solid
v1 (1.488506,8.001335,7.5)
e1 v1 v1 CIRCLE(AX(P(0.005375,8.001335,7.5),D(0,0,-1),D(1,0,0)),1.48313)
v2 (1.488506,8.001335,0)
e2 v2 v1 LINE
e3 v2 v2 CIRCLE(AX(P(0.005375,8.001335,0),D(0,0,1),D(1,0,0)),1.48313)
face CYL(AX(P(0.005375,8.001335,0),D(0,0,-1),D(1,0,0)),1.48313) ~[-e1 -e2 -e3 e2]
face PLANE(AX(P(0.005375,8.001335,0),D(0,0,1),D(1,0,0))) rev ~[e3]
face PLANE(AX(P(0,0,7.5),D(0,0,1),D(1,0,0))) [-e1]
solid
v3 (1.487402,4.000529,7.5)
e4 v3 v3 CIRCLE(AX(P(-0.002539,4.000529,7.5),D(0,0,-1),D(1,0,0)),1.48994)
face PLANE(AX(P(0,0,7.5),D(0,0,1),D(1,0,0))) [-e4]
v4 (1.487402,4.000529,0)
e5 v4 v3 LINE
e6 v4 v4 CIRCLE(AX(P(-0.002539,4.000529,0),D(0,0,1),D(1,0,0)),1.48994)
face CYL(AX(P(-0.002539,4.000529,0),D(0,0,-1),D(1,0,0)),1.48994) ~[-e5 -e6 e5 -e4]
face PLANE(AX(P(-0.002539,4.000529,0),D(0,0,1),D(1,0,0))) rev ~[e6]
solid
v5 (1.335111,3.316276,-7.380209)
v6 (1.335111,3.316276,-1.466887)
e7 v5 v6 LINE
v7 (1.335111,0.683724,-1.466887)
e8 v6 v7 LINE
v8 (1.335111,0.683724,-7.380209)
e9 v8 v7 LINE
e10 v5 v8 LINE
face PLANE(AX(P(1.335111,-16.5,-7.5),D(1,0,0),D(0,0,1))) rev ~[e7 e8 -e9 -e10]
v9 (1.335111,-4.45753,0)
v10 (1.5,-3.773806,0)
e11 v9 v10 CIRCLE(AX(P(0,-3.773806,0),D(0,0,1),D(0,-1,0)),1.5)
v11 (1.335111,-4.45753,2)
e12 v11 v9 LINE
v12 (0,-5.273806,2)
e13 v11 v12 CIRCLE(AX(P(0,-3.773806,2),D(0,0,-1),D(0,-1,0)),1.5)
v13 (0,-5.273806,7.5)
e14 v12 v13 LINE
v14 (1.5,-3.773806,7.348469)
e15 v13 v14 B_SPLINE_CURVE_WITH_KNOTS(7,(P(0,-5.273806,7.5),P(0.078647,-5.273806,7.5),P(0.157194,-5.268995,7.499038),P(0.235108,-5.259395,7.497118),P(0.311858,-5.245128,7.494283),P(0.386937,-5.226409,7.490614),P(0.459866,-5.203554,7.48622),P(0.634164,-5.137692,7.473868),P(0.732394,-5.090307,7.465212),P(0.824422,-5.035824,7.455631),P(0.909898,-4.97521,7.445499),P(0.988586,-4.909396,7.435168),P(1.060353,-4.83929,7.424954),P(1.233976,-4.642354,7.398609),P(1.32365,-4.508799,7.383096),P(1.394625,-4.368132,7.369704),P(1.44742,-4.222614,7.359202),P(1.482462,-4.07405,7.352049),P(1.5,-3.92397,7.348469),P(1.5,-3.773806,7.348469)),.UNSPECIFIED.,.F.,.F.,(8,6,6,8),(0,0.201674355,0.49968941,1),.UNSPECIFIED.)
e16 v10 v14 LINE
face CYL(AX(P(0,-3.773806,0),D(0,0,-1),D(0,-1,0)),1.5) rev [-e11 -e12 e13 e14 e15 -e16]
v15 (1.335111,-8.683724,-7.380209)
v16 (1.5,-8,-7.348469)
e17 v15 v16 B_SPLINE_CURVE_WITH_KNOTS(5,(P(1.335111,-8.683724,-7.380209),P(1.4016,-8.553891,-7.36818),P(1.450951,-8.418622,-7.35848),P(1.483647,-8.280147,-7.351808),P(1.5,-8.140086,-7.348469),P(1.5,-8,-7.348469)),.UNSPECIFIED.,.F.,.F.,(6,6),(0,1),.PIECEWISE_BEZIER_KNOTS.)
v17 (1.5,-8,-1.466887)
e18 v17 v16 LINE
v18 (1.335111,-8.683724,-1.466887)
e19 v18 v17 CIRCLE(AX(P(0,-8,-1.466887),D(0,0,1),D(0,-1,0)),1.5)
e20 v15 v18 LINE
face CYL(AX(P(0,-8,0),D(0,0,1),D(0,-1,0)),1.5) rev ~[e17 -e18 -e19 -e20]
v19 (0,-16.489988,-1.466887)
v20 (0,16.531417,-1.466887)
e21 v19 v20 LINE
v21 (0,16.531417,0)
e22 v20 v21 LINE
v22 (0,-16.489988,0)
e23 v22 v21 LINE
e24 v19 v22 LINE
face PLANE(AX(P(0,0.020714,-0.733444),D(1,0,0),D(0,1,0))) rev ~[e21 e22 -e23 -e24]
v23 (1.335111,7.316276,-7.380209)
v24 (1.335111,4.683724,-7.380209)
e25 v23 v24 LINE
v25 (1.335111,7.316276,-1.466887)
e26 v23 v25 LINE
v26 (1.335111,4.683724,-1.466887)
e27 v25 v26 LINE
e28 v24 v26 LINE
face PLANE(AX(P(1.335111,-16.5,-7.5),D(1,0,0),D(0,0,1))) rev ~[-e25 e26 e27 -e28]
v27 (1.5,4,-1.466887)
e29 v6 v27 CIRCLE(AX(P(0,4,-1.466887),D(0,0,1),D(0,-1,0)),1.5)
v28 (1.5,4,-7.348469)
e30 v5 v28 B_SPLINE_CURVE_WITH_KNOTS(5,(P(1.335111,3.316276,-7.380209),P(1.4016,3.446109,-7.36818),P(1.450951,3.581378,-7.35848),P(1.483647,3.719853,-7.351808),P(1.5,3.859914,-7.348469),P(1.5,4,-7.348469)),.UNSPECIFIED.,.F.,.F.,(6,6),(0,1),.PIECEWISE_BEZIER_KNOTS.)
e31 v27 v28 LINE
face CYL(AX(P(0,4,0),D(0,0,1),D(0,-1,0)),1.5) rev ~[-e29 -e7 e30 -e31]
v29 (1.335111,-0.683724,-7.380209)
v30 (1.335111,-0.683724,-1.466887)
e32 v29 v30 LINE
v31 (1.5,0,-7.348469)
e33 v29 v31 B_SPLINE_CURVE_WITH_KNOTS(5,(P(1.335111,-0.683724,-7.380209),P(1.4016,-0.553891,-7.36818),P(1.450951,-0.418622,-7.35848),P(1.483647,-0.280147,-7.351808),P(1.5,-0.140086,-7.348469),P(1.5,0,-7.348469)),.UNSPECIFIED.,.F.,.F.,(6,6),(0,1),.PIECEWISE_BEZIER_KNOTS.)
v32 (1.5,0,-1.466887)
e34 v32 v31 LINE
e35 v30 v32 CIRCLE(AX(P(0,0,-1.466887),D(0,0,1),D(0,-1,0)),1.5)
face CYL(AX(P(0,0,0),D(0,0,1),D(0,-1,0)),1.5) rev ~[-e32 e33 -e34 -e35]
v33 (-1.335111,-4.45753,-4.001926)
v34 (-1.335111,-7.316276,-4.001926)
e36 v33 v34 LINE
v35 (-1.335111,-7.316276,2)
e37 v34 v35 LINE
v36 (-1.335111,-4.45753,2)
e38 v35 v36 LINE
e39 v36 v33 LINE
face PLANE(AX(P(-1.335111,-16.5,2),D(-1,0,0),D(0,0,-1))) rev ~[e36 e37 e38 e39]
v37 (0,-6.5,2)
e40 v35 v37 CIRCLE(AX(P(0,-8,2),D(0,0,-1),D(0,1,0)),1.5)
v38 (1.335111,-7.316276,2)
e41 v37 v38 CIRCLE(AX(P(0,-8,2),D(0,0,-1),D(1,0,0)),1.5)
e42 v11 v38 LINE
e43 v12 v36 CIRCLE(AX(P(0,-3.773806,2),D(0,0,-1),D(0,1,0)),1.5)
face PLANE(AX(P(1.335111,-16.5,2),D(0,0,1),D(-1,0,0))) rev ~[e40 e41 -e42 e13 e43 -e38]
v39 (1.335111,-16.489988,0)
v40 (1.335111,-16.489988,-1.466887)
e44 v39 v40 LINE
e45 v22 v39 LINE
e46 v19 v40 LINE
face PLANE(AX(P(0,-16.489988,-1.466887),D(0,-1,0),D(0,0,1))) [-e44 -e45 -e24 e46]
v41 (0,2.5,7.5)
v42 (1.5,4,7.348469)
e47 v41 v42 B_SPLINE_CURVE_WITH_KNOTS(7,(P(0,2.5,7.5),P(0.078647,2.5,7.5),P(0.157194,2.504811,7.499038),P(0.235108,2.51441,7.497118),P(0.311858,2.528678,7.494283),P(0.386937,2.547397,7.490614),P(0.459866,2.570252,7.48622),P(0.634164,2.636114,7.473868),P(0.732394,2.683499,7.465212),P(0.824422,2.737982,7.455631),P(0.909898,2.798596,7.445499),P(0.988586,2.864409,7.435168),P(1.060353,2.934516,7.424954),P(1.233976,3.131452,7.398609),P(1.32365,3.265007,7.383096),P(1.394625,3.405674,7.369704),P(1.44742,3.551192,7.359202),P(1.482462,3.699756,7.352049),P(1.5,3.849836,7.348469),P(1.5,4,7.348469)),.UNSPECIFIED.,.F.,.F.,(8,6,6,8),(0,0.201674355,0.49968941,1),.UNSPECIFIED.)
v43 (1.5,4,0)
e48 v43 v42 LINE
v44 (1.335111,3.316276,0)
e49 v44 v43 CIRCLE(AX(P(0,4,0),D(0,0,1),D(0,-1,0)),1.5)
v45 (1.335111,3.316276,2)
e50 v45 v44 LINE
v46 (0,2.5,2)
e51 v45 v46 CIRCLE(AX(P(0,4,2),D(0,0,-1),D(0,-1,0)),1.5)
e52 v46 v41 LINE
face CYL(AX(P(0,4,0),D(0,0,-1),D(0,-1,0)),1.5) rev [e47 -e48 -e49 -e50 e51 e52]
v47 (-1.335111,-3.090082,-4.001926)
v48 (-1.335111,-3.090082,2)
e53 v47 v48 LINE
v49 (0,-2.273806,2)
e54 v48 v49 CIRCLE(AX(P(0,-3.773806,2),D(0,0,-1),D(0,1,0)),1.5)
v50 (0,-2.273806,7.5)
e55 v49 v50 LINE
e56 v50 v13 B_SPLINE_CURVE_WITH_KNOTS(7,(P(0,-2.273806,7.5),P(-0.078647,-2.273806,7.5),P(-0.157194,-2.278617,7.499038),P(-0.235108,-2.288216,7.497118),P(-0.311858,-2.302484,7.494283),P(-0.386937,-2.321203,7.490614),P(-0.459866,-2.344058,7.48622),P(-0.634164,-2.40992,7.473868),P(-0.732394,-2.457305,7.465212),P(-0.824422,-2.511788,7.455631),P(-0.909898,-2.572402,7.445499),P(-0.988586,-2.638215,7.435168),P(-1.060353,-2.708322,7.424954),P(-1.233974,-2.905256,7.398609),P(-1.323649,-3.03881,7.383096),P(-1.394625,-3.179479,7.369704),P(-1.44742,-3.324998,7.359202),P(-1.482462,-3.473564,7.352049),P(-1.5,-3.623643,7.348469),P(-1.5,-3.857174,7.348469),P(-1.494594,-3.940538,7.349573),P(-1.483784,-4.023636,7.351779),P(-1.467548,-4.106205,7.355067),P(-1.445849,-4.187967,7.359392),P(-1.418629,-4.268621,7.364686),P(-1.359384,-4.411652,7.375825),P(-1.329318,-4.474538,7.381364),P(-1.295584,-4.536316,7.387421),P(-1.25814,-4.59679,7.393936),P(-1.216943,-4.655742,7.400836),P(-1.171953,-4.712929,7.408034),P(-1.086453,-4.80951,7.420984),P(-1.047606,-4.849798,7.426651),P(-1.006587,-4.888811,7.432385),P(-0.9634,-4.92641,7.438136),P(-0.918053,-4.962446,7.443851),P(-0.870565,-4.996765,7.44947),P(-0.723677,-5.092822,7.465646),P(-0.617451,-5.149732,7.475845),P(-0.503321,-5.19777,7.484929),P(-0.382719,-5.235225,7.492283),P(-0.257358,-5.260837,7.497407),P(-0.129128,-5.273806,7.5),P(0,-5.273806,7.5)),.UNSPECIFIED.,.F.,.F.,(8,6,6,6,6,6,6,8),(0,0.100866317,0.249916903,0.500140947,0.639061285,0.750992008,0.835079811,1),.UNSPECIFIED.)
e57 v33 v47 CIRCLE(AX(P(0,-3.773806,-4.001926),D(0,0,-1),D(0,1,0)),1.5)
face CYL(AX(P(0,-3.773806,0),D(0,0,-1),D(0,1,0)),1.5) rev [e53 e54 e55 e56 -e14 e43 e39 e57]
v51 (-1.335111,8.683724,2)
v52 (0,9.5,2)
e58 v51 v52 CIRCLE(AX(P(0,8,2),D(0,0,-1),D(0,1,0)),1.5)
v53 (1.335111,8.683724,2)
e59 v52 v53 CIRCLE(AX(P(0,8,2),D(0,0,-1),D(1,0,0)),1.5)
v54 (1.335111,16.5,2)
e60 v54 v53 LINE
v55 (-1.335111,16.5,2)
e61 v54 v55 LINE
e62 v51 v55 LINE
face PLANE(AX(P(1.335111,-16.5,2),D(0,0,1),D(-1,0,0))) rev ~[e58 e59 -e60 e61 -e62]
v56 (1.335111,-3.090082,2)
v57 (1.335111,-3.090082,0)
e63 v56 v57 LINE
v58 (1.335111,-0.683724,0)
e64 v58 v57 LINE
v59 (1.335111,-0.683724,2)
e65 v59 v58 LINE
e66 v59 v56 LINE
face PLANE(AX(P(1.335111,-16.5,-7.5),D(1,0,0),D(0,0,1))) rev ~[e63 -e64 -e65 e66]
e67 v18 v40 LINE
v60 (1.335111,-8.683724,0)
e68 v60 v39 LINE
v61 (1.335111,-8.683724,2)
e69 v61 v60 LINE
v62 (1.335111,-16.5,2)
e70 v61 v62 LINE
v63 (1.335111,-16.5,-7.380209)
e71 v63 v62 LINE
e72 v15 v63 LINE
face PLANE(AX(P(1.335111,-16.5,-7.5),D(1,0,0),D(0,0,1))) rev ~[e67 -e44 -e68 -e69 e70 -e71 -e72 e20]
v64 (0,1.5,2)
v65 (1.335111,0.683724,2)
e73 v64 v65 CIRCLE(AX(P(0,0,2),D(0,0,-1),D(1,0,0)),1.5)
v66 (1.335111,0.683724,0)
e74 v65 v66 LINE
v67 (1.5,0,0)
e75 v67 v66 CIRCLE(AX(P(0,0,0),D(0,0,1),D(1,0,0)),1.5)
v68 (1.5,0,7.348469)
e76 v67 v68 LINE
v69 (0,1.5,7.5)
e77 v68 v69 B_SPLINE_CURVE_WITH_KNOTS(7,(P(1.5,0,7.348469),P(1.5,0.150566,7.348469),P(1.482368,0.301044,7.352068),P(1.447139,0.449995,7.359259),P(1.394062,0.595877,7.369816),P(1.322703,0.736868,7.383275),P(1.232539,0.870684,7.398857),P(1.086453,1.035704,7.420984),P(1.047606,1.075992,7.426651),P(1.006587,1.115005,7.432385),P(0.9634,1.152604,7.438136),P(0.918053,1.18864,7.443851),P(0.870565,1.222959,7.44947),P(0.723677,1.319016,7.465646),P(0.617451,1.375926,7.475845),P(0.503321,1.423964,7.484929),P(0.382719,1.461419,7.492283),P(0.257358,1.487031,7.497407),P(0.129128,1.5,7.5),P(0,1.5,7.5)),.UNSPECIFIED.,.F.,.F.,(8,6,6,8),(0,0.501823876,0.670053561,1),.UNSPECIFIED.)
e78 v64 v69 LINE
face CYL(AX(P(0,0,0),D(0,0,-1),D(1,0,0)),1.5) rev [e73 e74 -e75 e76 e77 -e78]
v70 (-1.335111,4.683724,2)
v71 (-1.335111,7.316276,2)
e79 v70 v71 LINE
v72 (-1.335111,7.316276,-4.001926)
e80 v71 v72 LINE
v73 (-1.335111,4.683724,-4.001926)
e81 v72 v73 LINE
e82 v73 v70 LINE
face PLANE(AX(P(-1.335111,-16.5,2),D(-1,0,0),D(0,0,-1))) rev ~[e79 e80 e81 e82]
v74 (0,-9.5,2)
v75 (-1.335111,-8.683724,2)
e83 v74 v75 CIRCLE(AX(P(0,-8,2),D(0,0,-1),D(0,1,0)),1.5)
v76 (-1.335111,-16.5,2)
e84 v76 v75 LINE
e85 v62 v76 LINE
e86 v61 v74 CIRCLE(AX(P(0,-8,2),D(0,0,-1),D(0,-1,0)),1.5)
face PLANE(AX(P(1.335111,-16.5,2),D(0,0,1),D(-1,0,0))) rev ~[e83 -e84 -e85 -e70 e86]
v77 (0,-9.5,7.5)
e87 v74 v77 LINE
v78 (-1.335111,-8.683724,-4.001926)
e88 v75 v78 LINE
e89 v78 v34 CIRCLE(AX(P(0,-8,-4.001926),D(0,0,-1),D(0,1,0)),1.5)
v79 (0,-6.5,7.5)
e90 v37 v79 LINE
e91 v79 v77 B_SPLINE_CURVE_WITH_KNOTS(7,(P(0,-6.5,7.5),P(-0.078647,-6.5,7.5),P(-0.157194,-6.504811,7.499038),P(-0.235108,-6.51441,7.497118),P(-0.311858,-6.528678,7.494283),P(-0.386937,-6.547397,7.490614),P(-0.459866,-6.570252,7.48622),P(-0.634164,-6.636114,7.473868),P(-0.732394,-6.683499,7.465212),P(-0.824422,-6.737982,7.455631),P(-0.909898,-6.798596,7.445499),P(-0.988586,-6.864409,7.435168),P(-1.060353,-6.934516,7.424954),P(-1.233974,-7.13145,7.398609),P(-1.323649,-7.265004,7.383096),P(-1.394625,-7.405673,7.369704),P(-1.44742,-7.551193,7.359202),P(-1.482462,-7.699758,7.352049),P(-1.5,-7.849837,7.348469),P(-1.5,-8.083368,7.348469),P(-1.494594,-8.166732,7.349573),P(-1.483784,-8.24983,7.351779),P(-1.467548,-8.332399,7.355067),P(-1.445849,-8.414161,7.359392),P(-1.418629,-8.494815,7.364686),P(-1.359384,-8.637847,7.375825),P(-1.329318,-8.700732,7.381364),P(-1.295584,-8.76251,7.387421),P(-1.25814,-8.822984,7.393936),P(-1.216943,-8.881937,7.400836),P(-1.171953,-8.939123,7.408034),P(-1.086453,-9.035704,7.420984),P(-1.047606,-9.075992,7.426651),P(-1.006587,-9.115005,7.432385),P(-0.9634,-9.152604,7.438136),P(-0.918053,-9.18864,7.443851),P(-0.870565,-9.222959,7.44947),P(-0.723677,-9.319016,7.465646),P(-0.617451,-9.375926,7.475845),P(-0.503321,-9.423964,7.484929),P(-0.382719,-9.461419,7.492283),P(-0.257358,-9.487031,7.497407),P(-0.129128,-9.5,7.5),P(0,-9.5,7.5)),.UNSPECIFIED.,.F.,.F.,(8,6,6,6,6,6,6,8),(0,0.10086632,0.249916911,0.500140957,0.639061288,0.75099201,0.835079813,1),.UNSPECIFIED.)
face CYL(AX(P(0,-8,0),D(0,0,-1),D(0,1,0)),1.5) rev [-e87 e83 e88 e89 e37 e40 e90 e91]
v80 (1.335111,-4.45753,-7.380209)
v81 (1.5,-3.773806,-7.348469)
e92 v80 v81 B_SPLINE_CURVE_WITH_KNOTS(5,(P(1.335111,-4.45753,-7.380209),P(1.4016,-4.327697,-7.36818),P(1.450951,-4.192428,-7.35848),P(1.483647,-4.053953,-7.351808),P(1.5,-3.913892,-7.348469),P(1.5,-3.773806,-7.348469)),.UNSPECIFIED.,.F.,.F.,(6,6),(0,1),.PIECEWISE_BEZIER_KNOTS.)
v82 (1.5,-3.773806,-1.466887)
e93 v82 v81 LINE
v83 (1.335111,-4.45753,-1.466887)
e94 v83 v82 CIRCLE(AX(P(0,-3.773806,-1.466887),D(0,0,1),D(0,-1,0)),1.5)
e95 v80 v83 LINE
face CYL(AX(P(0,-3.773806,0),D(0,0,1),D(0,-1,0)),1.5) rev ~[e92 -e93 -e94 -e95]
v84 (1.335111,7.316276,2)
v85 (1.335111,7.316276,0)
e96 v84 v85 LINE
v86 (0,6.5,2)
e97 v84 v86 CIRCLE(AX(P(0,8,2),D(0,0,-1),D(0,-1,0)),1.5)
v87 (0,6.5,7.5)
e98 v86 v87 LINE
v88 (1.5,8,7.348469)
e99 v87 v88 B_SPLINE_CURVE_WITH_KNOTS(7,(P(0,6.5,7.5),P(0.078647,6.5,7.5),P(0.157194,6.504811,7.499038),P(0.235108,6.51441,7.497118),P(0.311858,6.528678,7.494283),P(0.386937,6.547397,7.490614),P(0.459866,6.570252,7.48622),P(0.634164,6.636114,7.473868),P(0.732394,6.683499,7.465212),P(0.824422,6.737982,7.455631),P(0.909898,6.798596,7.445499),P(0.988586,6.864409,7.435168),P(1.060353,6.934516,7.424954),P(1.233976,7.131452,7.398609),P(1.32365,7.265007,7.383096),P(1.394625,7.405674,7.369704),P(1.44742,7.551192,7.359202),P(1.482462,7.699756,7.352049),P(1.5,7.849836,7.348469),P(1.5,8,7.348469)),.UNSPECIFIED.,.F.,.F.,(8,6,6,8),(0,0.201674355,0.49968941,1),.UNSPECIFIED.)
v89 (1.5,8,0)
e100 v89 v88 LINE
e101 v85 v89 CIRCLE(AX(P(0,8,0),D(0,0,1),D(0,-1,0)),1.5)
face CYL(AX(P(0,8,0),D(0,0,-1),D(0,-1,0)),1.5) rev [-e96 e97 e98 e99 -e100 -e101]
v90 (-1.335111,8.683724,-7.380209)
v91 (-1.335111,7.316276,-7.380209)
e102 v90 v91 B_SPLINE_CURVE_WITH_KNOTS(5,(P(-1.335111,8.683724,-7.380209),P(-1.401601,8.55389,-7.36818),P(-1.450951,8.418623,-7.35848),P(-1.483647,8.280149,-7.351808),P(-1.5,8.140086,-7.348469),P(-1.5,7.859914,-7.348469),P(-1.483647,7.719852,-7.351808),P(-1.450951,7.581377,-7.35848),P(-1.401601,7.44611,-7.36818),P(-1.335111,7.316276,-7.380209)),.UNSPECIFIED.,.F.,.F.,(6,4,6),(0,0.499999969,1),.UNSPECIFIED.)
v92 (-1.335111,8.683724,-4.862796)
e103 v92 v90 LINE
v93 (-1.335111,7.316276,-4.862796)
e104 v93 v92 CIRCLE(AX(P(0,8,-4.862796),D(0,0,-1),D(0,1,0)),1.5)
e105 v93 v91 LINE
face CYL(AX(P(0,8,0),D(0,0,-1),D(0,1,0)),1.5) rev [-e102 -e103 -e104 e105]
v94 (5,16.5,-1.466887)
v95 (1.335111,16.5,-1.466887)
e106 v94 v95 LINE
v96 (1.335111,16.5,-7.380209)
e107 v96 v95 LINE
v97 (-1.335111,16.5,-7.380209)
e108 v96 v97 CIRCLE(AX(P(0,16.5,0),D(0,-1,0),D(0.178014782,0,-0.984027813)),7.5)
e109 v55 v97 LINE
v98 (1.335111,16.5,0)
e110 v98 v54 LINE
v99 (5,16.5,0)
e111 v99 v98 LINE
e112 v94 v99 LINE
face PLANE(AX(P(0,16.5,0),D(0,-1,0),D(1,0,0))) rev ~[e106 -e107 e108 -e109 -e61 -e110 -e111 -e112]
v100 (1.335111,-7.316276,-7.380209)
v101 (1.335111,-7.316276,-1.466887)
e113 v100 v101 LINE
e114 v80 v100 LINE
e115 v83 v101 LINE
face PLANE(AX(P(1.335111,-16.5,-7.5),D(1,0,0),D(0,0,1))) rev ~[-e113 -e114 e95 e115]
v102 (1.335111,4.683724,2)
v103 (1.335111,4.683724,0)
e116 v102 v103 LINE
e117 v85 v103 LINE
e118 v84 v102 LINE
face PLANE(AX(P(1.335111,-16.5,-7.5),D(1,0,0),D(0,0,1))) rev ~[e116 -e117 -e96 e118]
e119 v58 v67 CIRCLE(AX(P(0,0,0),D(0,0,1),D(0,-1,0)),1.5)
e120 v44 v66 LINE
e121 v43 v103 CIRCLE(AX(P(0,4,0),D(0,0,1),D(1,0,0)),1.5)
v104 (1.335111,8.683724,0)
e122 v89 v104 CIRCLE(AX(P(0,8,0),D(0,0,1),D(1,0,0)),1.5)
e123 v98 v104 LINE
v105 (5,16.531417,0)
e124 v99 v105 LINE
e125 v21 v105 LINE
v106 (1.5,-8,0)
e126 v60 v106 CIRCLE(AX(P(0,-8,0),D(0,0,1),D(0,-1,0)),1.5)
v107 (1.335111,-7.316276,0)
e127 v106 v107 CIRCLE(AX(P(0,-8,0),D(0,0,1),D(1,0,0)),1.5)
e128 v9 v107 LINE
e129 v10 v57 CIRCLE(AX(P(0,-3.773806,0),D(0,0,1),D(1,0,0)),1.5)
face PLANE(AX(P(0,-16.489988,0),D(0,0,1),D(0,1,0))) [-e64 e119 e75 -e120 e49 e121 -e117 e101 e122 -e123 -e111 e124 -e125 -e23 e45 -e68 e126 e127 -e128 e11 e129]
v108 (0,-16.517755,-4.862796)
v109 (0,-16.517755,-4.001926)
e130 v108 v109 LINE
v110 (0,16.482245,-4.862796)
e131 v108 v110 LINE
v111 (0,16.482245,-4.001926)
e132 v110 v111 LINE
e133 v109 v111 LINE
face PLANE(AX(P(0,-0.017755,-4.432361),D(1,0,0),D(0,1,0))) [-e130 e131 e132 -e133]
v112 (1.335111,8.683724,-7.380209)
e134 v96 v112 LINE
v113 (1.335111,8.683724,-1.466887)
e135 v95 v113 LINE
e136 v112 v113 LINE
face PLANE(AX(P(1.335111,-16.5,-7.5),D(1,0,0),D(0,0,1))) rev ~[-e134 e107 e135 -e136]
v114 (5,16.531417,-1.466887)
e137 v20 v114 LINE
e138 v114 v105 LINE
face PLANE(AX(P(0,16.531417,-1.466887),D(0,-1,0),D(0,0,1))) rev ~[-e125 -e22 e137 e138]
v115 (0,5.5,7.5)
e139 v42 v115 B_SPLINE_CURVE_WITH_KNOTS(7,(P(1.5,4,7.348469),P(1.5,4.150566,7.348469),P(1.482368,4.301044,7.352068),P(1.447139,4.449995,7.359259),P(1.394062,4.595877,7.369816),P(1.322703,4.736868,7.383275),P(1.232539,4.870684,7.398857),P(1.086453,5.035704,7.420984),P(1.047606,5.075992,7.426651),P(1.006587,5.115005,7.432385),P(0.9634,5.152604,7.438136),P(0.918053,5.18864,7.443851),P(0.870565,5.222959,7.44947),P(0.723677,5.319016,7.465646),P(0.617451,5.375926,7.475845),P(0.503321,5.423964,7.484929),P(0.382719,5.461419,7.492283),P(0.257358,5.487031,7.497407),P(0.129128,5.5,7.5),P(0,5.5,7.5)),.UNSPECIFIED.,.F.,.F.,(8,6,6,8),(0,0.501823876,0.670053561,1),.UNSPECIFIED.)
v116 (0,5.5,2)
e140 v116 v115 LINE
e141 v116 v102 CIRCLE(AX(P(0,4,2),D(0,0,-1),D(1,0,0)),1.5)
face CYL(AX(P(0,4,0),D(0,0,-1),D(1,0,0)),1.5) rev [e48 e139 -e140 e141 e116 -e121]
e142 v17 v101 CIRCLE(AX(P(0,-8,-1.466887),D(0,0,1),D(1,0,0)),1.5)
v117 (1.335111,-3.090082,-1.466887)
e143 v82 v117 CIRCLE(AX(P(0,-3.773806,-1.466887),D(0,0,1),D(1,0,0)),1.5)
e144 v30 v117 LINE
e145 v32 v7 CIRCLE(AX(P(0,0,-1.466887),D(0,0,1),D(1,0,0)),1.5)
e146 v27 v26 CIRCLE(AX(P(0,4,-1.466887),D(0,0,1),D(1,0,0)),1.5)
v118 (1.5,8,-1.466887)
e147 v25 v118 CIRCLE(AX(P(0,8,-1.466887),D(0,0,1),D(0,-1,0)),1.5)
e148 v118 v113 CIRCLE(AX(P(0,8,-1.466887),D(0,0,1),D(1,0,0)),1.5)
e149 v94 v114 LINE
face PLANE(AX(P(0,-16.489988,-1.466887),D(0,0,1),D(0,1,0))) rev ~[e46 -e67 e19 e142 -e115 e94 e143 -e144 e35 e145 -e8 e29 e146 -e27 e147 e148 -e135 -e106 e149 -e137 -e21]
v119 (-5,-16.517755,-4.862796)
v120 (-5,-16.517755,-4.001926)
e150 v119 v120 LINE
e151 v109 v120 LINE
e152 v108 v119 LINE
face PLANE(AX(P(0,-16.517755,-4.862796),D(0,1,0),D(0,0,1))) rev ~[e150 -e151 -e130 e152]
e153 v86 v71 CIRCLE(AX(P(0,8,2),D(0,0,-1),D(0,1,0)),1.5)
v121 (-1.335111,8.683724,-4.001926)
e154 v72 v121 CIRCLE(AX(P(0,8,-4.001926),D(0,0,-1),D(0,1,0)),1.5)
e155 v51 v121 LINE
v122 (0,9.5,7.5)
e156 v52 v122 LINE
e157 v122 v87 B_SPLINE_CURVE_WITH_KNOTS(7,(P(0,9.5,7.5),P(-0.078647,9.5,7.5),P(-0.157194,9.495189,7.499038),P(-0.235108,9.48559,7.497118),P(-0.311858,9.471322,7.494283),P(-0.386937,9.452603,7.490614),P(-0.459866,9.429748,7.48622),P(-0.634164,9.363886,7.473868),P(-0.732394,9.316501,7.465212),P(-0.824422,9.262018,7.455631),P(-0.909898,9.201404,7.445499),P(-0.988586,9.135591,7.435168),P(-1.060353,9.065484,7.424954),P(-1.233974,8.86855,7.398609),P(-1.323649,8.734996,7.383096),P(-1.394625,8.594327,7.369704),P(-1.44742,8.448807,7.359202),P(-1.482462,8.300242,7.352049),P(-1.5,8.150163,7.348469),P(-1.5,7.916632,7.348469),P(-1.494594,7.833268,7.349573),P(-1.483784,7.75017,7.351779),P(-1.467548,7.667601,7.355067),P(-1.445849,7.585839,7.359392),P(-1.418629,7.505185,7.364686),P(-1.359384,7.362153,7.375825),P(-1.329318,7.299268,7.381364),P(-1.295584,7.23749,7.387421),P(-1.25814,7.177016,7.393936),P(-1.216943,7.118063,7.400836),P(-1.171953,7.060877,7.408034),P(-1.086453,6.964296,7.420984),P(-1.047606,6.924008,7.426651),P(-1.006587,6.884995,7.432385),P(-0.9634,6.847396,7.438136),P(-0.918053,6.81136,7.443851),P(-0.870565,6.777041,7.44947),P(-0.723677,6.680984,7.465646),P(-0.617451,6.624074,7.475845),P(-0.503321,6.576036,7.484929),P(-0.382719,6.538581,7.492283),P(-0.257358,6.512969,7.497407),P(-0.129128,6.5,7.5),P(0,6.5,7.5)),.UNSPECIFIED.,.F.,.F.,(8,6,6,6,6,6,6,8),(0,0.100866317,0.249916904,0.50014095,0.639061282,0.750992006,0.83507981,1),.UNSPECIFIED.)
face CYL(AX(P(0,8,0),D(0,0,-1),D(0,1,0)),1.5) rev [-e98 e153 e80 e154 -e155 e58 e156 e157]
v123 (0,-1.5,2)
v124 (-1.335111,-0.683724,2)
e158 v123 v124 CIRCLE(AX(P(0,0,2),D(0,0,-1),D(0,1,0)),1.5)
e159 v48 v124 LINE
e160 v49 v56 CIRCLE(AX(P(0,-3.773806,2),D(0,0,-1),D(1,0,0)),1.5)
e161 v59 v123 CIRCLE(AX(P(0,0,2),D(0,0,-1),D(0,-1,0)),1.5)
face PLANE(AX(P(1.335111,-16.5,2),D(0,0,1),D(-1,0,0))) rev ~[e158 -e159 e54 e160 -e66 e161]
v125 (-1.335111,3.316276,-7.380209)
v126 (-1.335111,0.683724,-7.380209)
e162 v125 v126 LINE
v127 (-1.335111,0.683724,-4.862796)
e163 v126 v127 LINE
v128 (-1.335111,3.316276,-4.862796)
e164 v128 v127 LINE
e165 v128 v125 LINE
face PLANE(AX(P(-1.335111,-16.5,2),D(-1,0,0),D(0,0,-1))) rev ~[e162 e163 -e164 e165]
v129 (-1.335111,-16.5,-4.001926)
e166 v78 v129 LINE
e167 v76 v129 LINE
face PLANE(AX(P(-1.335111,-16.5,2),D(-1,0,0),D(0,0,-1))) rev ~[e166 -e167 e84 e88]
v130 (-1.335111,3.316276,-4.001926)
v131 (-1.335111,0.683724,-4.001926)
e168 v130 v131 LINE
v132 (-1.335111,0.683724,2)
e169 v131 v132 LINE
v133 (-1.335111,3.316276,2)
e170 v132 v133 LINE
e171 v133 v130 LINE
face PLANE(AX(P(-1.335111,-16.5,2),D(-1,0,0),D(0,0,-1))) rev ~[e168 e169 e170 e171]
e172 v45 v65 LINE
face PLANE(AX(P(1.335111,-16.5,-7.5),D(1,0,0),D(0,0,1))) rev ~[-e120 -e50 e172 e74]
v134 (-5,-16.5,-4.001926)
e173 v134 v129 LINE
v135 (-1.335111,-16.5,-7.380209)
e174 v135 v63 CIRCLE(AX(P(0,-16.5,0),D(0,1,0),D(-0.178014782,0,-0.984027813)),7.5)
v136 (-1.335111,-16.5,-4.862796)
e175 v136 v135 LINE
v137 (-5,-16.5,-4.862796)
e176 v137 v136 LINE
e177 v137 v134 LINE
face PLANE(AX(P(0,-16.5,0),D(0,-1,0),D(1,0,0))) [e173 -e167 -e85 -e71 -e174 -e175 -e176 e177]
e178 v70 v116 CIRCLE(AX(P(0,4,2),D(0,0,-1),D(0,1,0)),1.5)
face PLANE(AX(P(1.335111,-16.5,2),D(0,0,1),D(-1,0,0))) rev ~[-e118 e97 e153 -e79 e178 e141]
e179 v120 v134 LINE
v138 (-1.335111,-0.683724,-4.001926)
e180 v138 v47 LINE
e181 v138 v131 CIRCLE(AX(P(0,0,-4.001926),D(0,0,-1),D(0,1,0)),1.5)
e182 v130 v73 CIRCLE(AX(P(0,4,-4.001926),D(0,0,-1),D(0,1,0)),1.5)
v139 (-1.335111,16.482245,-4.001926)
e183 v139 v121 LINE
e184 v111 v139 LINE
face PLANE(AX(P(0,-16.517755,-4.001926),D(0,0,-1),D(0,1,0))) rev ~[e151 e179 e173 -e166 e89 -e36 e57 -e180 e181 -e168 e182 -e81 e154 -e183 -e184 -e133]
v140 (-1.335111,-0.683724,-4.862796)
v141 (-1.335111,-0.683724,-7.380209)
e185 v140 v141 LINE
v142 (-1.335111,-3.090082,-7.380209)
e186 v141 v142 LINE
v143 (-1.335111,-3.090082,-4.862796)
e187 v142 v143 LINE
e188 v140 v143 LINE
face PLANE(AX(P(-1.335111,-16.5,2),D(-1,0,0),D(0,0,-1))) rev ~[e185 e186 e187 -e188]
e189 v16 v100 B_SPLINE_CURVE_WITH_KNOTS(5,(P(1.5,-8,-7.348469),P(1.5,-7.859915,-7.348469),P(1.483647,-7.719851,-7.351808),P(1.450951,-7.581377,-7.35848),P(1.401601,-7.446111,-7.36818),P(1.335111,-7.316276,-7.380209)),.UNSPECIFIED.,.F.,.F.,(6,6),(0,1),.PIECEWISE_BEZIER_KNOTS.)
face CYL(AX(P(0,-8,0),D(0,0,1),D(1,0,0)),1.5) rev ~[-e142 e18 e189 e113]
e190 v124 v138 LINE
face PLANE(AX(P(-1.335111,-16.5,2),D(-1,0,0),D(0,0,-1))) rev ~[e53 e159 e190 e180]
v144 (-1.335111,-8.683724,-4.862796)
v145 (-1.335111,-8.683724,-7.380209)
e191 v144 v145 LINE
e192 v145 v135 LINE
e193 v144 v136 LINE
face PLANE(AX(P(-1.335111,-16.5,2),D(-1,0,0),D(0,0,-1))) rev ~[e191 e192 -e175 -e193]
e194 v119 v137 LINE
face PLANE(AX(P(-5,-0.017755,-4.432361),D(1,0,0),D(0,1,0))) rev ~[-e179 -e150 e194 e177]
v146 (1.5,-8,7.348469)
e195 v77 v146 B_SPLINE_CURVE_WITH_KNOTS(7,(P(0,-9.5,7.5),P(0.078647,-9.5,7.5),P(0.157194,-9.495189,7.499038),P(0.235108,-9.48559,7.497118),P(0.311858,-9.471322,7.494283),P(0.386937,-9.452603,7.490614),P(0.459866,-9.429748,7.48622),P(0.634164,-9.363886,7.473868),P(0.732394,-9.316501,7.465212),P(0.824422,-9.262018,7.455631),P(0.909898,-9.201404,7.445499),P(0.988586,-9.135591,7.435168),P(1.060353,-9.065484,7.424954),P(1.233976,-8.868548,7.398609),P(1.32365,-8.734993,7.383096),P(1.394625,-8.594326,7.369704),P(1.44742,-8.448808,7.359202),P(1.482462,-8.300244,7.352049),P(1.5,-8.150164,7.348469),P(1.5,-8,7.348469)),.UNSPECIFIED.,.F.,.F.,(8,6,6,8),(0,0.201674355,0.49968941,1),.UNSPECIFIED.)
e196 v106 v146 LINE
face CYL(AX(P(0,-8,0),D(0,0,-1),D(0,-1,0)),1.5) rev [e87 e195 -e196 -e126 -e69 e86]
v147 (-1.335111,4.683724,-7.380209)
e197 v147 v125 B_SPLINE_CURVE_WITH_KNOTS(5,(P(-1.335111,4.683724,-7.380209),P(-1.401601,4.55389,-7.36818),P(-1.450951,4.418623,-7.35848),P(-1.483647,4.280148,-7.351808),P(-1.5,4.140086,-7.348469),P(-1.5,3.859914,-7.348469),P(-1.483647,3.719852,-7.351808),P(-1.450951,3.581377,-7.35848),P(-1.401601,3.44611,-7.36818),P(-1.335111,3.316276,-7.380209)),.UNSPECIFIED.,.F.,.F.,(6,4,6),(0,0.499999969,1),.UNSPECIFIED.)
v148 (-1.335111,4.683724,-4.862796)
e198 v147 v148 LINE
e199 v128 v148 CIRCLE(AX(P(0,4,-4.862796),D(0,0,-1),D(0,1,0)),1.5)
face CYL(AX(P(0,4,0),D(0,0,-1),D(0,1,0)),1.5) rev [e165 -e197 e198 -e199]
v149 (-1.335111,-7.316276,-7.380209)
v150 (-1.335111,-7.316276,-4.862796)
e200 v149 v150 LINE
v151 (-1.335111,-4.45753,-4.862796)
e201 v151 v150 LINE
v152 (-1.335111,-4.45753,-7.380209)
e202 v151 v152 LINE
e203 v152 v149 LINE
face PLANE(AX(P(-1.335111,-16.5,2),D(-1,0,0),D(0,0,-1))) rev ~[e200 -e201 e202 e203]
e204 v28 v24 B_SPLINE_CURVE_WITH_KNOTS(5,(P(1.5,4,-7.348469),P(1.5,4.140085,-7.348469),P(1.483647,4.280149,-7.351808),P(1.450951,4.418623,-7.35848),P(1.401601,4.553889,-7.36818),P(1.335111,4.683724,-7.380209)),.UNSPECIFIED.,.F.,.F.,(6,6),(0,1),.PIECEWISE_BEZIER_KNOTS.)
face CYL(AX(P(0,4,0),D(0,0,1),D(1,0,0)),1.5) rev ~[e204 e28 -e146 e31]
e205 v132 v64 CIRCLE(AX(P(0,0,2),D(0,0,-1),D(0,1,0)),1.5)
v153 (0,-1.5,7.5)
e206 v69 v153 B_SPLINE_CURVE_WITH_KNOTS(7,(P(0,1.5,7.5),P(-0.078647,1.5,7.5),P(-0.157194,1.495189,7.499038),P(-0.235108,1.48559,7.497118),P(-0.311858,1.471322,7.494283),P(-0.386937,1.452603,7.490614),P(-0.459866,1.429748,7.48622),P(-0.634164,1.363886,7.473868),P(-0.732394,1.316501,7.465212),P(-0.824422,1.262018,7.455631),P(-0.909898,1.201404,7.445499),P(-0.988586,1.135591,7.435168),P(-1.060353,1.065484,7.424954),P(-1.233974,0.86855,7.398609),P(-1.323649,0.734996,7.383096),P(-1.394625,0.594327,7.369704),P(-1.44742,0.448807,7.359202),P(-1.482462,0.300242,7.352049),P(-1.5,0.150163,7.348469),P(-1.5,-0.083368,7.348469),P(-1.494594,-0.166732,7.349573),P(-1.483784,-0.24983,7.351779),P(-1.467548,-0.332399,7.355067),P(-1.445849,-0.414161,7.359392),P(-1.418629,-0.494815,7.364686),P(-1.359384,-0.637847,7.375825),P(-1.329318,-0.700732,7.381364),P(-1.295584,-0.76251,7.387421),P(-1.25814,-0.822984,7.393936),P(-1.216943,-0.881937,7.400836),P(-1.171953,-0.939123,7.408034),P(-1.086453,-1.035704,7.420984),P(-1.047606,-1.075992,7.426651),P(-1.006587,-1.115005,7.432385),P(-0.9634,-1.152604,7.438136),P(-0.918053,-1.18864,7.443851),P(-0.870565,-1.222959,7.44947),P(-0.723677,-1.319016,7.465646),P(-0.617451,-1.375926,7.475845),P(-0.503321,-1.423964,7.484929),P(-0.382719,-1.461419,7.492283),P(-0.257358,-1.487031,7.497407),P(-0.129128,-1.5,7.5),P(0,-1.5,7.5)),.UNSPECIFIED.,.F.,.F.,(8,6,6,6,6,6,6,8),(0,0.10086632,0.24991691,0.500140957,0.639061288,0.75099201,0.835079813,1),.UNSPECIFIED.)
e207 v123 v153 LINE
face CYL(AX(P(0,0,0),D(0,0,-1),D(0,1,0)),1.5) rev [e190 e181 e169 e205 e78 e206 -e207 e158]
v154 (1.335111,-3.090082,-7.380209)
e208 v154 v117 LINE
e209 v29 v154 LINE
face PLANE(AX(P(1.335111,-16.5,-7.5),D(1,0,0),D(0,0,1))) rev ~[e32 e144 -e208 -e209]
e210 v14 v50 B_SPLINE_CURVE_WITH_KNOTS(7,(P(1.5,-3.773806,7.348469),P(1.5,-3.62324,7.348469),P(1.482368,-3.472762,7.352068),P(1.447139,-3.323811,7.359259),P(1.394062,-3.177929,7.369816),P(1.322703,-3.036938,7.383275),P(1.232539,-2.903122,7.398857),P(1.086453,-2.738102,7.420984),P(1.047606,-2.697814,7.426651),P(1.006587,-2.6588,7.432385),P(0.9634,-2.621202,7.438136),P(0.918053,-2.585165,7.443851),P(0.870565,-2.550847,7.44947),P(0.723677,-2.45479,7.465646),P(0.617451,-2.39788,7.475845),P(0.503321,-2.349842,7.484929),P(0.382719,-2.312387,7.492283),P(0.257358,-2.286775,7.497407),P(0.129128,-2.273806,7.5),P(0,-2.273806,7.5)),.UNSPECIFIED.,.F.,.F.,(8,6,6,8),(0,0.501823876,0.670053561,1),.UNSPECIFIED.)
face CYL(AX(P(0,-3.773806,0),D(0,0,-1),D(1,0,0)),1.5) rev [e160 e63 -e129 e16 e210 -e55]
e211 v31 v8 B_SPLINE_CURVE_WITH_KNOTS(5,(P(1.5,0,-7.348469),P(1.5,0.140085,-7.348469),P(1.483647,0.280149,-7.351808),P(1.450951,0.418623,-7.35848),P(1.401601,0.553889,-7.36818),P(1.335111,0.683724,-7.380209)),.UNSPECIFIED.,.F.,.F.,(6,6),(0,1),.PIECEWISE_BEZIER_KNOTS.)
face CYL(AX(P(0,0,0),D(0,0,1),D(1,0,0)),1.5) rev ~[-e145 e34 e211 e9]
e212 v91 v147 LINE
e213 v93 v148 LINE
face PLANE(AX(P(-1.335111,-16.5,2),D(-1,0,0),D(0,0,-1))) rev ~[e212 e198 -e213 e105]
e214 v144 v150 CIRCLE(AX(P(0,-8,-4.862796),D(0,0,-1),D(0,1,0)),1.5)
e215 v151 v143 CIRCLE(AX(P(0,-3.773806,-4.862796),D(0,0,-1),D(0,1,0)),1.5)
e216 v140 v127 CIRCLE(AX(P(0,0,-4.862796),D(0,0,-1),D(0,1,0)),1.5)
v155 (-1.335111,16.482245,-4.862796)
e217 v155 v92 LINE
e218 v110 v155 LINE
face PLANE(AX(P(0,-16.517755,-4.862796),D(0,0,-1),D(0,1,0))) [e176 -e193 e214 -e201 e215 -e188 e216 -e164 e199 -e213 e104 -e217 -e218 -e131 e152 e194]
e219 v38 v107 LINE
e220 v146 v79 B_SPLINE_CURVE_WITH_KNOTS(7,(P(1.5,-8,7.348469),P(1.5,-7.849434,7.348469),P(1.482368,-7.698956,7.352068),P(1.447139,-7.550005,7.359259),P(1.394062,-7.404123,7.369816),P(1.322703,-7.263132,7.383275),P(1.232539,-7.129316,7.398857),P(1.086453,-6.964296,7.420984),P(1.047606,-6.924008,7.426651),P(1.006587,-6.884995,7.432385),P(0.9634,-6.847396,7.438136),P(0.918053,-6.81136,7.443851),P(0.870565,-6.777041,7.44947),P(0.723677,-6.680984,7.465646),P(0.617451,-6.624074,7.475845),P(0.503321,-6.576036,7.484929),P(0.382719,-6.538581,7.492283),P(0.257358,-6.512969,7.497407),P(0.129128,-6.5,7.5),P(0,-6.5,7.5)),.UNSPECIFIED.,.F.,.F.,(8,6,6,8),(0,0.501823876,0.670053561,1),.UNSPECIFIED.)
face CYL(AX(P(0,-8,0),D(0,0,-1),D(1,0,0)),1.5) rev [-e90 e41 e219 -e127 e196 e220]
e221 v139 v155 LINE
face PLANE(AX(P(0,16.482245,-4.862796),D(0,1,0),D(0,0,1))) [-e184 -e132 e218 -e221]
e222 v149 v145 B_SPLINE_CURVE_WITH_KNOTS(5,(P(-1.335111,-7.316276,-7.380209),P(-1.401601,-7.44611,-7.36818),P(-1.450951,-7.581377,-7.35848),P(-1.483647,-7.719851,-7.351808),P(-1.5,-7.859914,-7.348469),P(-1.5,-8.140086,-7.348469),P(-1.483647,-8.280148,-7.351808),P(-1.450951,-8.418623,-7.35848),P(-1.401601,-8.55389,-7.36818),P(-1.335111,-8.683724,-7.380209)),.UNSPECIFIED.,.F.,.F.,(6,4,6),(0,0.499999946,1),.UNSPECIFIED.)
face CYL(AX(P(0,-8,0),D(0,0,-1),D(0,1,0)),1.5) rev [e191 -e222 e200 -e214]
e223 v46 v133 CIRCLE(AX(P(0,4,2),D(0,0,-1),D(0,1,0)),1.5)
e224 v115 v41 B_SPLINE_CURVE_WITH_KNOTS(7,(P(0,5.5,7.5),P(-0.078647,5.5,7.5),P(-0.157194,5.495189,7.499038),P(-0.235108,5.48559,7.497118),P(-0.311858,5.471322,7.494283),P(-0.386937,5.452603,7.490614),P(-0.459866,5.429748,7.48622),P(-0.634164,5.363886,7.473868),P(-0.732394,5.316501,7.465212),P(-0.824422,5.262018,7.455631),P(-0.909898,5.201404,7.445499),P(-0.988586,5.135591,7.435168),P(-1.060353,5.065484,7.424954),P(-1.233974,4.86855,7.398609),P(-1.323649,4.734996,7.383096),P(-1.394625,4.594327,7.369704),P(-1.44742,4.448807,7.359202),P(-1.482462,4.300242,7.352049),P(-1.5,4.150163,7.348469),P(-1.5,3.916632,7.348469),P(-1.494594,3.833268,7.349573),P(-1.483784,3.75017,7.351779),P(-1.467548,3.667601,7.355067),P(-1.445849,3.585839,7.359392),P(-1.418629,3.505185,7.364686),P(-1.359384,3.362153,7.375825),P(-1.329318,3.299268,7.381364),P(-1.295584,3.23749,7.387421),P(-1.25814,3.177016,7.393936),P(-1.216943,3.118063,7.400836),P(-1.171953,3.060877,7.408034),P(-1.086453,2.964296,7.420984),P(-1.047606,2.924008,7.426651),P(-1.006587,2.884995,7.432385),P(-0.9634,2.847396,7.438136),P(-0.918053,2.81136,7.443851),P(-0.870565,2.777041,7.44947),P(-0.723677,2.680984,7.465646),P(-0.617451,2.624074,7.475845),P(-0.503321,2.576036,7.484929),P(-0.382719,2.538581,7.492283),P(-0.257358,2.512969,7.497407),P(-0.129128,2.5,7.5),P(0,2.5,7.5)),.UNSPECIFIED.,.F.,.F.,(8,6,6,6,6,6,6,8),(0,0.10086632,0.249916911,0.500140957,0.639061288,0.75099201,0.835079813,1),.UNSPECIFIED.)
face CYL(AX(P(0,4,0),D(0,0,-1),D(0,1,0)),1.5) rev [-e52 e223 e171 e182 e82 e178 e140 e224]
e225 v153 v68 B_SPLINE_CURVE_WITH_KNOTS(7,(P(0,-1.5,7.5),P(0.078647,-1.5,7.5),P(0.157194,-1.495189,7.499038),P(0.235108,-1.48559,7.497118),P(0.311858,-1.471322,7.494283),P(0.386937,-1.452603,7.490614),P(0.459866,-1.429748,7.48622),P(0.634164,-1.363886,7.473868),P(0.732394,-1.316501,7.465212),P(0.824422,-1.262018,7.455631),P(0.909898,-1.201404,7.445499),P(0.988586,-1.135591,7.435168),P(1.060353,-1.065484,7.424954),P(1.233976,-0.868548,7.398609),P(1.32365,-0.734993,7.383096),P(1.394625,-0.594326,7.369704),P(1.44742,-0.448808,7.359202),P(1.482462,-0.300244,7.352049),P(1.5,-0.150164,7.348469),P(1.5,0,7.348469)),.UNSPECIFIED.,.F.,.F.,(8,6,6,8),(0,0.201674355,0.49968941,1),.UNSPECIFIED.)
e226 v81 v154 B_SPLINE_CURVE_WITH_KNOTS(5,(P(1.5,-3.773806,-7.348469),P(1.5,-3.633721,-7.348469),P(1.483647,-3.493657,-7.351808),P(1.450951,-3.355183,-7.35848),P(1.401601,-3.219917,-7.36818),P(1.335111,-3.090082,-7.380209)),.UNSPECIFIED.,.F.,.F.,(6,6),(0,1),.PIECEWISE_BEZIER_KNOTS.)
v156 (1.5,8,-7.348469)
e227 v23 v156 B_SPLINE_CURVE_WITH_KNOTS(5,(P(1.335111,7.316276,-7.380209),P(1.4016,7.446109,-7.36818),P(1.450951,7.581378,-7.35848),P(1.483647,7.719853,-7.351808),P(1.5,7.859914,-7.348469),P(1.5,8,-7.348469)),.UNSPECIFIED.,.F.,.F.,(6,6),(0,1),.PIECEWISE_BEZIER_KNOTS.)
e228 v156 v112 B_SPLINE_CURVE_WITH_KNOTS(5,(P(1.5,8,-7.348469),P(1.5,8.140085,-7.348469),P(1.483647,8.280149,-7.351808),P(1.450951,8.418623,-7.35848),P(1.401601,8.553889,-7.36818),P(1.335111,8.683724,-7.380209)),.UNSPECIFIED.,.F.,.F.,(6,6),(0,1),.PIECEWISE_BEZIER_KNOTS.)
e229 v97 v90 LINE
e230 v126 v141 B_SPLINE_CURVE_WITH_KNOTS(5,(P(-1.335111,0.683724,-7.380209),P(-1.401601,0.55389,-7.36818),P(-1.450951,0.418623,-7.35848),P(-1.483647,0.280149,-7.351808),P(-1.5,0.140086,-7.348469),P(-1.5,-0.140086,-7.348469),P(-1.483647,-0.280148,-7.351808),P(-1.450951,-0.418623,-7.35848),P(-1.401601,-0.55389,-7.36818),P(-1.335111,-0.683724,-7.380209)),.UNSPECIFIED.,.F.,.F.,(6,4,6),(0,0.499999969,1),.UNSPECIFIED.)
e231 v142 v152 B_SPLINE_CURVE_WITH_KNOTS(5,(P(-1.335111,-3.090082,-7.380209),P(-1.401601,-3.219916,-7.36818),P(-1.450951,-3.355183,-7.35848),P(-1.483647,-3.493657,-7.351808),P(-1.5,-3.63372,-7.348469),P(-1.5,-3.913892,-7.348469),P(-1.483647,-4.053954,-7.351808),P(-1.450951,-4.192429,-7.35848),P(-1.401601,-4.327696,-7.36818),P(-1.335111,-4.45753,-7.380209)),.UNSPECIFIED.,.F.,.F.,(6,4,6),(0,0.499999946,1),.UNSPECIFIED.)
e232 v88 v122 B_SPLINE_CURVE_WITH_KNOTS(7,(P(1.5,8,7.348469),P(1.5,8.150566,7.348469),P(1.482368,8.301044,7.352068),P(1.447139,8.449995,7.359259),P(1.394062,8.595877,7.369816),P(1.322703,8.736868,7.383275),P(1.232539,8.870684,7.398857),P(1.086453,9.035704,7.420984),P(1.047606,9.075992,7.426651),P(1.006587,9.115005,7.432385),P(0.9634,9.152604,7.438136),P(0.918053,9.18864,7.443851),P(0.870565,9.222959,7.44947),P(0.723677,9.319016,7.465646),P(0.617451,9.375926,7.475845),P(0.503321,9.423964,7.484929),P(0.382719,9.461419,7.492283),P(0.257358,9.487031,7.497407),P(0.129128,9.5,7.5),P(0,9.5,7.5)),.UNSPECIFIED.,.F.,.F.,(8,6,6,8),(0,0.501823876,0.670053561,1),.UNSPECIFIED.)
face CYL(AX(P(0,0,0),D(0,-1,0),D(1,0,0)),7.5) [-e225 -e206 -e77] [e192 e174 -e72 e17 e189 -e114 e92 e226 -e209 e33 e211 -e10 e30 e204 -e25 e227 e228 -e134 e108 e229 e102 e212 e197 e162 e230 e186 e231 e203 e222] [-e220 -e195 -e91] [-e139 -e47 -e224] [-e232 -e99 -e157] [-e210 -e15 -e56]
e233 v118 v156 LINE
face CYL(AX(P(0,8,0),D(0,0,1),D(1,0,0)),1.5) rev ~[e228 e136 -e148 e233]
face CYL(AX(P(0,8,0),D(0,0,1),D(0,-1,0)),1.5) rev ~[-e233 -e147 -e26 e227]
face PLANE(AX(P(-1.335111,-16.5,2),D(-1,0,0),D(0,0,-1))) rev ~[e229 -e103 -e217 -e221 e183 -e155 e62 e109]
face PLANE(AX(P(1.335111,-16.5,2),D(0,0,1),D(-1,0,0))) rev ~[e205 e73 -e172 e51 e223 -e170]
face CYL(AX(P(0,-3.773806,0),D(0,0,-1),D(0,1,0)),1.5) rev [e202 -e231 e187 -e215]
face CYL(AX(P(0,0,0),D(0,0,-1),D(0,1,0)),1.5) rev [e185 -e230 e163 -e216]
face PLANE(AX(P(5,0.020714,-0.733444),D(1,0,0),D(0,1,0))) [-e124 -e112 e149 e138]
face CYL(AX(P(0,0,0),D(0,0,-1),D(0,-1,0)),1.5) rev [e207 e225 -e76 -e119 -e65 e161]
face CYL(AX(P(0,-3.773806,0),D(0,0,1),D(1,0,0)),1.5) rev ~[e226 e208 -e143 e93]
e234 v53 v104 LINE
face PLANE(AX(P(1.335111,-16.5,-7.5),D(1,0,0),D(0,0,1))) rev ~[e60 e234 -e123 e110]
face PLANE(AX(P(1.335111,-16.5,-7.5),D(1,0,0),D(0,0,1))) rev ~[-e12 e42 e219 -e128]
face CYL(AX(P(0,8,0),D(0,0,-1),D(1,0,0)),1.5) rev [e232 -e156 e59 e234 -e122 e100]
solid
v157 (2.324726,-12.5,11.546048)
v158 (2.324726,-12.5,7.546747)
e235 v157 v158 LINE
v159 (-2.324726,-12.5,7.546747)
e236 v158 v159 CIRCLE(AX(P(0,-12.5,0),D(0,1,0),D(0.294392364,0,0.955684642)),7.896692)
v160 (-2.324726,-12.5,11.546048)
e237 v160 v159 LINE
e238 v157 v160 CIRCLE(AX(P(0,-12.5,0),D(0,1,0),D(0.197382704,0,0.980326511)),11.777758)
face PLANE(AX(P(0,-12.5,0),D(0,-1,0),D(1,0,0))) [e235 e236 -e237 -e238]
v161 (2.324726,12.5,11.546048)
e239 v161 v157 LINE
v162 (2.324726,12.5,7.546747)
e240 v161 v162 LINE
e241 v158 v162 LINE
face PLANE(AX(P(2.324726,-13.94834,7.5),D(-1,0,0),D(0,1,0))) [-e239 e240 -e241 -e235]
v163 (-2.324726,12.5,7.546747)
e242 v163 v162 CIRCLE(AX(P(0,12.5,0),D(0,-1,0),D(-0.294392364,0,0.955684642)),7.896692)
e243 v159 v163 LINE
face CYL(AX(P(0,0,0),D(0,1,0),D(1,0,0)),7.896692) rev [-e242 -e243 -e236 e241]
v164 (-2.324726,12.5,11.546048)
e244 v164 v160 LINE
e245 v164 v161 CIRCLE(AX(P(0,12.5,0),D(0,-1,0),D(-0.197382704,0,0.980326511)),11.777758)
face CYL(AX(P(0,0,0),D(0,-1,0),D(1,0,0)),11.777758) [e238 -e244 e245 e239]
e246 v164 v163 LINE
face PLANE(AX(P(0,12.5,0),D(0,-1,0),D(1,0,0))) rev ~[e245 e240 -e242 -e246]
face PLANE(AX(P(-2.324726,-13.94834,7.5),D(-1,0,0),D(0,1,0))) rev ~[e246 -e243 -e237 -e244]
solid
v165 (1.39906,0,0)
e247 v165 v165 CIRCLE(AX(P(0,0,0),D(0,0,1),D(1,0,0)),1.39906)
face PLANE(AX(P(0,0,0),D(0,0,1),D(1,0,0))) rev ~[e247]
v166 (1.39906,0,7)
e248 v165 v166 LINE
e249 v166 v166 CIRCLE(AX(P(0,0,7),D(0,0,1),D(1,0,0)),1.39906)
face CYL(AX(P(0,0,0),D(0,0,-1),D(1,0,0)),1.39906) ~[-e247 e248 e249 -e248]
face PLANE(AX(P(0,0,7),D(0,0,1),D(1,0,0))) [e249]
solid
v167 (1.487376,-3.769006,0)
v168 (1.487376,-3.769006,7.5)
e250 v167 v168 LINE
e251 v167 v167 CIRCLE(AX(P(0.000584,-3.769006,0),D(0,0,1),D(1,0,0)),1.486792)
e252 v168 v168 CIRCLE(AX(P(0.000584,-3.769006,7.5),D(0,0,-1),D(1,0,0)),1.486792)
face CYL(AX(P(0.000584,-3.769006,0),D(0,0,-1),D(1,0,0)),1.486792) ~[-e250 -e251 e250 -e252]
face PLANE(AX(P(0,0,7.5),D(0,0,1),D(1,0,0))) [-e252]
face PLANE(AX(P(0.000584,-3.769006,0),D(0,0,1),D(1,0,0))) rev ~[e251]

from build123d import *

# Parameters (mm, degrees)
F0_R      = 7.5
F1_DEPTH  = 16.5
F3_DEPTH  = 50
F5_DEPTH  = 50
F7_W      = 33.0214053392
F7_H      = 1.466887421
F8_DEPTH  = 5
F6_R      = 1.3990595973
F9_DEPTH  = 7
F10_R     = 1.4867916796
F11_DEPTH = 8.5
F12_R     = 1.489940195
F13_DEPTH = 12
F14_R     = 1.4831302562
F15_DEPTH = 9
F16_W     = 33
F16_H     = 0.8608698403
F17_DEPTH = 5
F18_R     = 11.7777580834
F18_R_2   = 7.8966916814
F19_DEPTH = 12.5
F21_W     = 4.6494514681
F21_H     = 27.8966799378
F22_DEPTH = 25


with BuildPart() as f1:
    # F0 (on Front) → F1 (new body, symmetric)
    with BuildSketch(Plane.XZ):
        Circle(F0_R)
    extrude(amount=F1_DEPTH, both=True)

    # F2 (on face) → F3 (cut, symmetric)
    with BuildSketch(Plane.XZ.offset(16.5)):
        with BuildLine():
            Line((-1.3351108646, -7.5), (0, -7.5))
            ThreePointArc((0, -7.5), (-0.670237085, -7.4699921185), (-1.3351108646, -7.3802086))
            Line((-1.3351108646, -7.3802086), (-1.3351108646, -7.5))
        make_face()
        with BuildLine():
            ThreePointArc((1.3351108646, -7.3802086), (0.670237085, -7.4699921185), (0, -7.5))
            Line((0, -7.5), (1.3351108646, -7.5))
            Line((1.3351108646, -7.5), (1.3351108646, -7.3802086))
        make_face()
        with BuildLine():
            ThreePointArc((-1.3351108646, -7.3802086), (-0.670237085, -7.4699921185), (0, -7.5))
            Line((0, -7.5), (0, 2))
            Line((0, 2), (-1.3351108646, 2))
            Line((-1.3351108646, 2), (-1.3351108646, -7.3802086))
        make_face()
        with BuildLine():
            Line((0, 2), (0, -7.5))
            ThreePointArc((0, -7.5), (0.670237085, -7.4699921185), (1.3351108646, -7.3802086))
            Line((1.3351108646, -7.3802086), (1.3351108646, 2))
            Line((1.3351108646, 2), (0, 2))
        make_face()
    extrude(amount=F3_DEPTH, both=True, mode=Mode.SUBTRACT)

    # F4 (on Top) → F5 (cut, symmetric)
    with BuildSketch(Plane.XY):
        with BuildLine():
            Line((0, -1.5), (0, 0))
            Line((0, 0), (0, 1.5))
            ThreePointArc((0, 1.5), (-1.5, 0), (0, -1.5))
        make_face()
        with BuildLine():
            Line((0, 1.5), (0, 0))
            Line((0, 0), (0, -1.5))
            ThreePointArc((0, -1.5), (1.0606601718, -1.0606601718), (1.5, 0))
            ThreePointArc((1.5, 0), (1.0606601718, 1.0606601718), (0, 1.5))
        make_face()
        with BuildLine():
            ThreePointArc((0, 9.5), (-1.5, 8), (0, 6.5))
            Line((0, 6.5), (0, 9.5))
        make_face()
        with BuildLine():
            Line((0, 9.5), (0, 6.5))
            ThreePointArc((0, 6.5), (1.0606601718, 6.9393398282), (1.5, 8))
            ThreePointArc((1.5, 8), (1.0606601718, 9.0606601718), (0, 9.5))
        make_face()
        with BuildLine():
            ThreePointArc((0, 5.5), (-1.5, 4), (0, 2.5))
            Line((0, 2.5), (0, 5.5))
        make_face()
        with BuildLine():
            Line((0, 5.5), (0, 2.5))
            ThreePointArc((0, 2.5), (1.0606601718, 2.9393398282), (1.5, 4))
            ThreePointArc((1.5, 4), (1.0606601718, 5.0606601718), (0, 5.5))
        make_face()
        with BuildLine():
            ThreePointArc((1.5, -8), (1.0606601718, -6.9393398282), (0, -6.5))
            Line((0, -6.5), (0, -9.5))
            ThreePointArc((0, -9.5), (1.0606601718, -9.0606601718), (1.5, -8))
        make_face()
        with BuildLine():
            Line((0, -9.5), (0, -6.5))
            ThreePointArc((0, -6.5), (-1.5, -8), (0, -9.5))
        make_face()
        with BuildLine():
            ThreePointArc((1.5, -3.7738059182), (1.0606601718, -2.7131457464), (0, -2.2738059182))
            Line((0, -2.2738059182), (0, -5.2738059182))
            ThreePointArc((0, -5.2738059182), (1.0606601718, -4.83446609), (1.5, -3.7738059182))
        make_face()
        with BuildLine():
            Line((0, -5.2738059182), (0, -2.2738059182))
            ThreePointArc((0, -2.2738059182), (-1.5, -3.7738059182), (0, -5.2738059182))
        make_face()
    extrude(amount=F5_DEPTH, both=True, mode=Mode.SUBTRACT)

    # F7 (on Right) → F8 (join)
    with BuildSketch(Plane.YZ):
        with Locations((0.0207144767, -0.7334437105)):
            Rectangle(F7_W, F7_H)
    extrude(amount=F8_DEPTH)

    # F16 (on Right) → F17 (join)
    with BuildSketch(Plane.YZ):
        with Locations((-0.0177547336, -4.4323611073)):
            Rectangle(F16_W, F16_H)
    extrude(amount=-F17_DEPTH)


with BuildPart() as f9:
    # F6 (on Top) → F9 (new body)
    with BuildSketch(Plane.XY):
        Circle(F6_R)
    extrude(amount=F9_DEPTH)


with BuildPart() as f11:
    # F10 (on Top) → F11 (new body)
    with BuildSketch(Plane.XY):
        with Locations((0.00058419, -3.7690057561)):
            Circle(F10_R)
    extrude(amount=F11_DEPTH)


with BuildPart() as f13:
    # F12 (on Top) → F13 (new body)
    with BuildSketch(Plane.XY):
        with Locations((-0.002538552, 4.0005287304)):
            Circle(F12_R)
    extrude(amount=F13_DEPTH)


with BuildPart() as f15:
    # F14 (on Top) → F15 (new body)
    with BuildSketch(Plane.XY):
        with Locations((0.0053752966, 8.0013352169)):
            Circle(F14_R)
    extrude(amount=F15_DEPTH)


with BuildPart() as f19:
    # F18 (on Front) → F19 (new body, symmetric)
    with BuildSketch(Plane.XZ):
        Circle(F18_R)
        Circle(F18_R_2, mode=Mode.SUBTRACT)
    extrude(amount=F19_DEPTH, both=True)


with BuildPart() as f22_tool:
    # F21 (on offset) → F22 (new body)
    with BuildSketch(Plane.XY.offset(7.5)):
        Rectangle(F21_W, F21_H)
    extrude(amount=F22_DEPTH)


with BuildPart() as f11_1:
    add(f11.part)

    # F22: cut by f22_tool
    add(f22_tool.part, mode=Mode.SUBTRACT)


with BuildPart() as f13_1:
    add(f13.part)

    # F22: cut by f22_tool
    add(f22_tool.part, mode=Mode.SUBTRACT)


with BuildPart() as f15_1:
    add(f15.part)

    # F22: cut by f22_tool
    add(f22_tool.part, mode=Mode.SUBTRACT)


with BuildPart() as f19_1:
    add(f19.part)

    # F22: cut by f22_tool
    add(f22_tool.part, mode=Mode.SUBTRACT)


solid = Compound([f1.part, f9.part, f11_1.part, f13_1.part, f15_1.part, f19_1.part])
